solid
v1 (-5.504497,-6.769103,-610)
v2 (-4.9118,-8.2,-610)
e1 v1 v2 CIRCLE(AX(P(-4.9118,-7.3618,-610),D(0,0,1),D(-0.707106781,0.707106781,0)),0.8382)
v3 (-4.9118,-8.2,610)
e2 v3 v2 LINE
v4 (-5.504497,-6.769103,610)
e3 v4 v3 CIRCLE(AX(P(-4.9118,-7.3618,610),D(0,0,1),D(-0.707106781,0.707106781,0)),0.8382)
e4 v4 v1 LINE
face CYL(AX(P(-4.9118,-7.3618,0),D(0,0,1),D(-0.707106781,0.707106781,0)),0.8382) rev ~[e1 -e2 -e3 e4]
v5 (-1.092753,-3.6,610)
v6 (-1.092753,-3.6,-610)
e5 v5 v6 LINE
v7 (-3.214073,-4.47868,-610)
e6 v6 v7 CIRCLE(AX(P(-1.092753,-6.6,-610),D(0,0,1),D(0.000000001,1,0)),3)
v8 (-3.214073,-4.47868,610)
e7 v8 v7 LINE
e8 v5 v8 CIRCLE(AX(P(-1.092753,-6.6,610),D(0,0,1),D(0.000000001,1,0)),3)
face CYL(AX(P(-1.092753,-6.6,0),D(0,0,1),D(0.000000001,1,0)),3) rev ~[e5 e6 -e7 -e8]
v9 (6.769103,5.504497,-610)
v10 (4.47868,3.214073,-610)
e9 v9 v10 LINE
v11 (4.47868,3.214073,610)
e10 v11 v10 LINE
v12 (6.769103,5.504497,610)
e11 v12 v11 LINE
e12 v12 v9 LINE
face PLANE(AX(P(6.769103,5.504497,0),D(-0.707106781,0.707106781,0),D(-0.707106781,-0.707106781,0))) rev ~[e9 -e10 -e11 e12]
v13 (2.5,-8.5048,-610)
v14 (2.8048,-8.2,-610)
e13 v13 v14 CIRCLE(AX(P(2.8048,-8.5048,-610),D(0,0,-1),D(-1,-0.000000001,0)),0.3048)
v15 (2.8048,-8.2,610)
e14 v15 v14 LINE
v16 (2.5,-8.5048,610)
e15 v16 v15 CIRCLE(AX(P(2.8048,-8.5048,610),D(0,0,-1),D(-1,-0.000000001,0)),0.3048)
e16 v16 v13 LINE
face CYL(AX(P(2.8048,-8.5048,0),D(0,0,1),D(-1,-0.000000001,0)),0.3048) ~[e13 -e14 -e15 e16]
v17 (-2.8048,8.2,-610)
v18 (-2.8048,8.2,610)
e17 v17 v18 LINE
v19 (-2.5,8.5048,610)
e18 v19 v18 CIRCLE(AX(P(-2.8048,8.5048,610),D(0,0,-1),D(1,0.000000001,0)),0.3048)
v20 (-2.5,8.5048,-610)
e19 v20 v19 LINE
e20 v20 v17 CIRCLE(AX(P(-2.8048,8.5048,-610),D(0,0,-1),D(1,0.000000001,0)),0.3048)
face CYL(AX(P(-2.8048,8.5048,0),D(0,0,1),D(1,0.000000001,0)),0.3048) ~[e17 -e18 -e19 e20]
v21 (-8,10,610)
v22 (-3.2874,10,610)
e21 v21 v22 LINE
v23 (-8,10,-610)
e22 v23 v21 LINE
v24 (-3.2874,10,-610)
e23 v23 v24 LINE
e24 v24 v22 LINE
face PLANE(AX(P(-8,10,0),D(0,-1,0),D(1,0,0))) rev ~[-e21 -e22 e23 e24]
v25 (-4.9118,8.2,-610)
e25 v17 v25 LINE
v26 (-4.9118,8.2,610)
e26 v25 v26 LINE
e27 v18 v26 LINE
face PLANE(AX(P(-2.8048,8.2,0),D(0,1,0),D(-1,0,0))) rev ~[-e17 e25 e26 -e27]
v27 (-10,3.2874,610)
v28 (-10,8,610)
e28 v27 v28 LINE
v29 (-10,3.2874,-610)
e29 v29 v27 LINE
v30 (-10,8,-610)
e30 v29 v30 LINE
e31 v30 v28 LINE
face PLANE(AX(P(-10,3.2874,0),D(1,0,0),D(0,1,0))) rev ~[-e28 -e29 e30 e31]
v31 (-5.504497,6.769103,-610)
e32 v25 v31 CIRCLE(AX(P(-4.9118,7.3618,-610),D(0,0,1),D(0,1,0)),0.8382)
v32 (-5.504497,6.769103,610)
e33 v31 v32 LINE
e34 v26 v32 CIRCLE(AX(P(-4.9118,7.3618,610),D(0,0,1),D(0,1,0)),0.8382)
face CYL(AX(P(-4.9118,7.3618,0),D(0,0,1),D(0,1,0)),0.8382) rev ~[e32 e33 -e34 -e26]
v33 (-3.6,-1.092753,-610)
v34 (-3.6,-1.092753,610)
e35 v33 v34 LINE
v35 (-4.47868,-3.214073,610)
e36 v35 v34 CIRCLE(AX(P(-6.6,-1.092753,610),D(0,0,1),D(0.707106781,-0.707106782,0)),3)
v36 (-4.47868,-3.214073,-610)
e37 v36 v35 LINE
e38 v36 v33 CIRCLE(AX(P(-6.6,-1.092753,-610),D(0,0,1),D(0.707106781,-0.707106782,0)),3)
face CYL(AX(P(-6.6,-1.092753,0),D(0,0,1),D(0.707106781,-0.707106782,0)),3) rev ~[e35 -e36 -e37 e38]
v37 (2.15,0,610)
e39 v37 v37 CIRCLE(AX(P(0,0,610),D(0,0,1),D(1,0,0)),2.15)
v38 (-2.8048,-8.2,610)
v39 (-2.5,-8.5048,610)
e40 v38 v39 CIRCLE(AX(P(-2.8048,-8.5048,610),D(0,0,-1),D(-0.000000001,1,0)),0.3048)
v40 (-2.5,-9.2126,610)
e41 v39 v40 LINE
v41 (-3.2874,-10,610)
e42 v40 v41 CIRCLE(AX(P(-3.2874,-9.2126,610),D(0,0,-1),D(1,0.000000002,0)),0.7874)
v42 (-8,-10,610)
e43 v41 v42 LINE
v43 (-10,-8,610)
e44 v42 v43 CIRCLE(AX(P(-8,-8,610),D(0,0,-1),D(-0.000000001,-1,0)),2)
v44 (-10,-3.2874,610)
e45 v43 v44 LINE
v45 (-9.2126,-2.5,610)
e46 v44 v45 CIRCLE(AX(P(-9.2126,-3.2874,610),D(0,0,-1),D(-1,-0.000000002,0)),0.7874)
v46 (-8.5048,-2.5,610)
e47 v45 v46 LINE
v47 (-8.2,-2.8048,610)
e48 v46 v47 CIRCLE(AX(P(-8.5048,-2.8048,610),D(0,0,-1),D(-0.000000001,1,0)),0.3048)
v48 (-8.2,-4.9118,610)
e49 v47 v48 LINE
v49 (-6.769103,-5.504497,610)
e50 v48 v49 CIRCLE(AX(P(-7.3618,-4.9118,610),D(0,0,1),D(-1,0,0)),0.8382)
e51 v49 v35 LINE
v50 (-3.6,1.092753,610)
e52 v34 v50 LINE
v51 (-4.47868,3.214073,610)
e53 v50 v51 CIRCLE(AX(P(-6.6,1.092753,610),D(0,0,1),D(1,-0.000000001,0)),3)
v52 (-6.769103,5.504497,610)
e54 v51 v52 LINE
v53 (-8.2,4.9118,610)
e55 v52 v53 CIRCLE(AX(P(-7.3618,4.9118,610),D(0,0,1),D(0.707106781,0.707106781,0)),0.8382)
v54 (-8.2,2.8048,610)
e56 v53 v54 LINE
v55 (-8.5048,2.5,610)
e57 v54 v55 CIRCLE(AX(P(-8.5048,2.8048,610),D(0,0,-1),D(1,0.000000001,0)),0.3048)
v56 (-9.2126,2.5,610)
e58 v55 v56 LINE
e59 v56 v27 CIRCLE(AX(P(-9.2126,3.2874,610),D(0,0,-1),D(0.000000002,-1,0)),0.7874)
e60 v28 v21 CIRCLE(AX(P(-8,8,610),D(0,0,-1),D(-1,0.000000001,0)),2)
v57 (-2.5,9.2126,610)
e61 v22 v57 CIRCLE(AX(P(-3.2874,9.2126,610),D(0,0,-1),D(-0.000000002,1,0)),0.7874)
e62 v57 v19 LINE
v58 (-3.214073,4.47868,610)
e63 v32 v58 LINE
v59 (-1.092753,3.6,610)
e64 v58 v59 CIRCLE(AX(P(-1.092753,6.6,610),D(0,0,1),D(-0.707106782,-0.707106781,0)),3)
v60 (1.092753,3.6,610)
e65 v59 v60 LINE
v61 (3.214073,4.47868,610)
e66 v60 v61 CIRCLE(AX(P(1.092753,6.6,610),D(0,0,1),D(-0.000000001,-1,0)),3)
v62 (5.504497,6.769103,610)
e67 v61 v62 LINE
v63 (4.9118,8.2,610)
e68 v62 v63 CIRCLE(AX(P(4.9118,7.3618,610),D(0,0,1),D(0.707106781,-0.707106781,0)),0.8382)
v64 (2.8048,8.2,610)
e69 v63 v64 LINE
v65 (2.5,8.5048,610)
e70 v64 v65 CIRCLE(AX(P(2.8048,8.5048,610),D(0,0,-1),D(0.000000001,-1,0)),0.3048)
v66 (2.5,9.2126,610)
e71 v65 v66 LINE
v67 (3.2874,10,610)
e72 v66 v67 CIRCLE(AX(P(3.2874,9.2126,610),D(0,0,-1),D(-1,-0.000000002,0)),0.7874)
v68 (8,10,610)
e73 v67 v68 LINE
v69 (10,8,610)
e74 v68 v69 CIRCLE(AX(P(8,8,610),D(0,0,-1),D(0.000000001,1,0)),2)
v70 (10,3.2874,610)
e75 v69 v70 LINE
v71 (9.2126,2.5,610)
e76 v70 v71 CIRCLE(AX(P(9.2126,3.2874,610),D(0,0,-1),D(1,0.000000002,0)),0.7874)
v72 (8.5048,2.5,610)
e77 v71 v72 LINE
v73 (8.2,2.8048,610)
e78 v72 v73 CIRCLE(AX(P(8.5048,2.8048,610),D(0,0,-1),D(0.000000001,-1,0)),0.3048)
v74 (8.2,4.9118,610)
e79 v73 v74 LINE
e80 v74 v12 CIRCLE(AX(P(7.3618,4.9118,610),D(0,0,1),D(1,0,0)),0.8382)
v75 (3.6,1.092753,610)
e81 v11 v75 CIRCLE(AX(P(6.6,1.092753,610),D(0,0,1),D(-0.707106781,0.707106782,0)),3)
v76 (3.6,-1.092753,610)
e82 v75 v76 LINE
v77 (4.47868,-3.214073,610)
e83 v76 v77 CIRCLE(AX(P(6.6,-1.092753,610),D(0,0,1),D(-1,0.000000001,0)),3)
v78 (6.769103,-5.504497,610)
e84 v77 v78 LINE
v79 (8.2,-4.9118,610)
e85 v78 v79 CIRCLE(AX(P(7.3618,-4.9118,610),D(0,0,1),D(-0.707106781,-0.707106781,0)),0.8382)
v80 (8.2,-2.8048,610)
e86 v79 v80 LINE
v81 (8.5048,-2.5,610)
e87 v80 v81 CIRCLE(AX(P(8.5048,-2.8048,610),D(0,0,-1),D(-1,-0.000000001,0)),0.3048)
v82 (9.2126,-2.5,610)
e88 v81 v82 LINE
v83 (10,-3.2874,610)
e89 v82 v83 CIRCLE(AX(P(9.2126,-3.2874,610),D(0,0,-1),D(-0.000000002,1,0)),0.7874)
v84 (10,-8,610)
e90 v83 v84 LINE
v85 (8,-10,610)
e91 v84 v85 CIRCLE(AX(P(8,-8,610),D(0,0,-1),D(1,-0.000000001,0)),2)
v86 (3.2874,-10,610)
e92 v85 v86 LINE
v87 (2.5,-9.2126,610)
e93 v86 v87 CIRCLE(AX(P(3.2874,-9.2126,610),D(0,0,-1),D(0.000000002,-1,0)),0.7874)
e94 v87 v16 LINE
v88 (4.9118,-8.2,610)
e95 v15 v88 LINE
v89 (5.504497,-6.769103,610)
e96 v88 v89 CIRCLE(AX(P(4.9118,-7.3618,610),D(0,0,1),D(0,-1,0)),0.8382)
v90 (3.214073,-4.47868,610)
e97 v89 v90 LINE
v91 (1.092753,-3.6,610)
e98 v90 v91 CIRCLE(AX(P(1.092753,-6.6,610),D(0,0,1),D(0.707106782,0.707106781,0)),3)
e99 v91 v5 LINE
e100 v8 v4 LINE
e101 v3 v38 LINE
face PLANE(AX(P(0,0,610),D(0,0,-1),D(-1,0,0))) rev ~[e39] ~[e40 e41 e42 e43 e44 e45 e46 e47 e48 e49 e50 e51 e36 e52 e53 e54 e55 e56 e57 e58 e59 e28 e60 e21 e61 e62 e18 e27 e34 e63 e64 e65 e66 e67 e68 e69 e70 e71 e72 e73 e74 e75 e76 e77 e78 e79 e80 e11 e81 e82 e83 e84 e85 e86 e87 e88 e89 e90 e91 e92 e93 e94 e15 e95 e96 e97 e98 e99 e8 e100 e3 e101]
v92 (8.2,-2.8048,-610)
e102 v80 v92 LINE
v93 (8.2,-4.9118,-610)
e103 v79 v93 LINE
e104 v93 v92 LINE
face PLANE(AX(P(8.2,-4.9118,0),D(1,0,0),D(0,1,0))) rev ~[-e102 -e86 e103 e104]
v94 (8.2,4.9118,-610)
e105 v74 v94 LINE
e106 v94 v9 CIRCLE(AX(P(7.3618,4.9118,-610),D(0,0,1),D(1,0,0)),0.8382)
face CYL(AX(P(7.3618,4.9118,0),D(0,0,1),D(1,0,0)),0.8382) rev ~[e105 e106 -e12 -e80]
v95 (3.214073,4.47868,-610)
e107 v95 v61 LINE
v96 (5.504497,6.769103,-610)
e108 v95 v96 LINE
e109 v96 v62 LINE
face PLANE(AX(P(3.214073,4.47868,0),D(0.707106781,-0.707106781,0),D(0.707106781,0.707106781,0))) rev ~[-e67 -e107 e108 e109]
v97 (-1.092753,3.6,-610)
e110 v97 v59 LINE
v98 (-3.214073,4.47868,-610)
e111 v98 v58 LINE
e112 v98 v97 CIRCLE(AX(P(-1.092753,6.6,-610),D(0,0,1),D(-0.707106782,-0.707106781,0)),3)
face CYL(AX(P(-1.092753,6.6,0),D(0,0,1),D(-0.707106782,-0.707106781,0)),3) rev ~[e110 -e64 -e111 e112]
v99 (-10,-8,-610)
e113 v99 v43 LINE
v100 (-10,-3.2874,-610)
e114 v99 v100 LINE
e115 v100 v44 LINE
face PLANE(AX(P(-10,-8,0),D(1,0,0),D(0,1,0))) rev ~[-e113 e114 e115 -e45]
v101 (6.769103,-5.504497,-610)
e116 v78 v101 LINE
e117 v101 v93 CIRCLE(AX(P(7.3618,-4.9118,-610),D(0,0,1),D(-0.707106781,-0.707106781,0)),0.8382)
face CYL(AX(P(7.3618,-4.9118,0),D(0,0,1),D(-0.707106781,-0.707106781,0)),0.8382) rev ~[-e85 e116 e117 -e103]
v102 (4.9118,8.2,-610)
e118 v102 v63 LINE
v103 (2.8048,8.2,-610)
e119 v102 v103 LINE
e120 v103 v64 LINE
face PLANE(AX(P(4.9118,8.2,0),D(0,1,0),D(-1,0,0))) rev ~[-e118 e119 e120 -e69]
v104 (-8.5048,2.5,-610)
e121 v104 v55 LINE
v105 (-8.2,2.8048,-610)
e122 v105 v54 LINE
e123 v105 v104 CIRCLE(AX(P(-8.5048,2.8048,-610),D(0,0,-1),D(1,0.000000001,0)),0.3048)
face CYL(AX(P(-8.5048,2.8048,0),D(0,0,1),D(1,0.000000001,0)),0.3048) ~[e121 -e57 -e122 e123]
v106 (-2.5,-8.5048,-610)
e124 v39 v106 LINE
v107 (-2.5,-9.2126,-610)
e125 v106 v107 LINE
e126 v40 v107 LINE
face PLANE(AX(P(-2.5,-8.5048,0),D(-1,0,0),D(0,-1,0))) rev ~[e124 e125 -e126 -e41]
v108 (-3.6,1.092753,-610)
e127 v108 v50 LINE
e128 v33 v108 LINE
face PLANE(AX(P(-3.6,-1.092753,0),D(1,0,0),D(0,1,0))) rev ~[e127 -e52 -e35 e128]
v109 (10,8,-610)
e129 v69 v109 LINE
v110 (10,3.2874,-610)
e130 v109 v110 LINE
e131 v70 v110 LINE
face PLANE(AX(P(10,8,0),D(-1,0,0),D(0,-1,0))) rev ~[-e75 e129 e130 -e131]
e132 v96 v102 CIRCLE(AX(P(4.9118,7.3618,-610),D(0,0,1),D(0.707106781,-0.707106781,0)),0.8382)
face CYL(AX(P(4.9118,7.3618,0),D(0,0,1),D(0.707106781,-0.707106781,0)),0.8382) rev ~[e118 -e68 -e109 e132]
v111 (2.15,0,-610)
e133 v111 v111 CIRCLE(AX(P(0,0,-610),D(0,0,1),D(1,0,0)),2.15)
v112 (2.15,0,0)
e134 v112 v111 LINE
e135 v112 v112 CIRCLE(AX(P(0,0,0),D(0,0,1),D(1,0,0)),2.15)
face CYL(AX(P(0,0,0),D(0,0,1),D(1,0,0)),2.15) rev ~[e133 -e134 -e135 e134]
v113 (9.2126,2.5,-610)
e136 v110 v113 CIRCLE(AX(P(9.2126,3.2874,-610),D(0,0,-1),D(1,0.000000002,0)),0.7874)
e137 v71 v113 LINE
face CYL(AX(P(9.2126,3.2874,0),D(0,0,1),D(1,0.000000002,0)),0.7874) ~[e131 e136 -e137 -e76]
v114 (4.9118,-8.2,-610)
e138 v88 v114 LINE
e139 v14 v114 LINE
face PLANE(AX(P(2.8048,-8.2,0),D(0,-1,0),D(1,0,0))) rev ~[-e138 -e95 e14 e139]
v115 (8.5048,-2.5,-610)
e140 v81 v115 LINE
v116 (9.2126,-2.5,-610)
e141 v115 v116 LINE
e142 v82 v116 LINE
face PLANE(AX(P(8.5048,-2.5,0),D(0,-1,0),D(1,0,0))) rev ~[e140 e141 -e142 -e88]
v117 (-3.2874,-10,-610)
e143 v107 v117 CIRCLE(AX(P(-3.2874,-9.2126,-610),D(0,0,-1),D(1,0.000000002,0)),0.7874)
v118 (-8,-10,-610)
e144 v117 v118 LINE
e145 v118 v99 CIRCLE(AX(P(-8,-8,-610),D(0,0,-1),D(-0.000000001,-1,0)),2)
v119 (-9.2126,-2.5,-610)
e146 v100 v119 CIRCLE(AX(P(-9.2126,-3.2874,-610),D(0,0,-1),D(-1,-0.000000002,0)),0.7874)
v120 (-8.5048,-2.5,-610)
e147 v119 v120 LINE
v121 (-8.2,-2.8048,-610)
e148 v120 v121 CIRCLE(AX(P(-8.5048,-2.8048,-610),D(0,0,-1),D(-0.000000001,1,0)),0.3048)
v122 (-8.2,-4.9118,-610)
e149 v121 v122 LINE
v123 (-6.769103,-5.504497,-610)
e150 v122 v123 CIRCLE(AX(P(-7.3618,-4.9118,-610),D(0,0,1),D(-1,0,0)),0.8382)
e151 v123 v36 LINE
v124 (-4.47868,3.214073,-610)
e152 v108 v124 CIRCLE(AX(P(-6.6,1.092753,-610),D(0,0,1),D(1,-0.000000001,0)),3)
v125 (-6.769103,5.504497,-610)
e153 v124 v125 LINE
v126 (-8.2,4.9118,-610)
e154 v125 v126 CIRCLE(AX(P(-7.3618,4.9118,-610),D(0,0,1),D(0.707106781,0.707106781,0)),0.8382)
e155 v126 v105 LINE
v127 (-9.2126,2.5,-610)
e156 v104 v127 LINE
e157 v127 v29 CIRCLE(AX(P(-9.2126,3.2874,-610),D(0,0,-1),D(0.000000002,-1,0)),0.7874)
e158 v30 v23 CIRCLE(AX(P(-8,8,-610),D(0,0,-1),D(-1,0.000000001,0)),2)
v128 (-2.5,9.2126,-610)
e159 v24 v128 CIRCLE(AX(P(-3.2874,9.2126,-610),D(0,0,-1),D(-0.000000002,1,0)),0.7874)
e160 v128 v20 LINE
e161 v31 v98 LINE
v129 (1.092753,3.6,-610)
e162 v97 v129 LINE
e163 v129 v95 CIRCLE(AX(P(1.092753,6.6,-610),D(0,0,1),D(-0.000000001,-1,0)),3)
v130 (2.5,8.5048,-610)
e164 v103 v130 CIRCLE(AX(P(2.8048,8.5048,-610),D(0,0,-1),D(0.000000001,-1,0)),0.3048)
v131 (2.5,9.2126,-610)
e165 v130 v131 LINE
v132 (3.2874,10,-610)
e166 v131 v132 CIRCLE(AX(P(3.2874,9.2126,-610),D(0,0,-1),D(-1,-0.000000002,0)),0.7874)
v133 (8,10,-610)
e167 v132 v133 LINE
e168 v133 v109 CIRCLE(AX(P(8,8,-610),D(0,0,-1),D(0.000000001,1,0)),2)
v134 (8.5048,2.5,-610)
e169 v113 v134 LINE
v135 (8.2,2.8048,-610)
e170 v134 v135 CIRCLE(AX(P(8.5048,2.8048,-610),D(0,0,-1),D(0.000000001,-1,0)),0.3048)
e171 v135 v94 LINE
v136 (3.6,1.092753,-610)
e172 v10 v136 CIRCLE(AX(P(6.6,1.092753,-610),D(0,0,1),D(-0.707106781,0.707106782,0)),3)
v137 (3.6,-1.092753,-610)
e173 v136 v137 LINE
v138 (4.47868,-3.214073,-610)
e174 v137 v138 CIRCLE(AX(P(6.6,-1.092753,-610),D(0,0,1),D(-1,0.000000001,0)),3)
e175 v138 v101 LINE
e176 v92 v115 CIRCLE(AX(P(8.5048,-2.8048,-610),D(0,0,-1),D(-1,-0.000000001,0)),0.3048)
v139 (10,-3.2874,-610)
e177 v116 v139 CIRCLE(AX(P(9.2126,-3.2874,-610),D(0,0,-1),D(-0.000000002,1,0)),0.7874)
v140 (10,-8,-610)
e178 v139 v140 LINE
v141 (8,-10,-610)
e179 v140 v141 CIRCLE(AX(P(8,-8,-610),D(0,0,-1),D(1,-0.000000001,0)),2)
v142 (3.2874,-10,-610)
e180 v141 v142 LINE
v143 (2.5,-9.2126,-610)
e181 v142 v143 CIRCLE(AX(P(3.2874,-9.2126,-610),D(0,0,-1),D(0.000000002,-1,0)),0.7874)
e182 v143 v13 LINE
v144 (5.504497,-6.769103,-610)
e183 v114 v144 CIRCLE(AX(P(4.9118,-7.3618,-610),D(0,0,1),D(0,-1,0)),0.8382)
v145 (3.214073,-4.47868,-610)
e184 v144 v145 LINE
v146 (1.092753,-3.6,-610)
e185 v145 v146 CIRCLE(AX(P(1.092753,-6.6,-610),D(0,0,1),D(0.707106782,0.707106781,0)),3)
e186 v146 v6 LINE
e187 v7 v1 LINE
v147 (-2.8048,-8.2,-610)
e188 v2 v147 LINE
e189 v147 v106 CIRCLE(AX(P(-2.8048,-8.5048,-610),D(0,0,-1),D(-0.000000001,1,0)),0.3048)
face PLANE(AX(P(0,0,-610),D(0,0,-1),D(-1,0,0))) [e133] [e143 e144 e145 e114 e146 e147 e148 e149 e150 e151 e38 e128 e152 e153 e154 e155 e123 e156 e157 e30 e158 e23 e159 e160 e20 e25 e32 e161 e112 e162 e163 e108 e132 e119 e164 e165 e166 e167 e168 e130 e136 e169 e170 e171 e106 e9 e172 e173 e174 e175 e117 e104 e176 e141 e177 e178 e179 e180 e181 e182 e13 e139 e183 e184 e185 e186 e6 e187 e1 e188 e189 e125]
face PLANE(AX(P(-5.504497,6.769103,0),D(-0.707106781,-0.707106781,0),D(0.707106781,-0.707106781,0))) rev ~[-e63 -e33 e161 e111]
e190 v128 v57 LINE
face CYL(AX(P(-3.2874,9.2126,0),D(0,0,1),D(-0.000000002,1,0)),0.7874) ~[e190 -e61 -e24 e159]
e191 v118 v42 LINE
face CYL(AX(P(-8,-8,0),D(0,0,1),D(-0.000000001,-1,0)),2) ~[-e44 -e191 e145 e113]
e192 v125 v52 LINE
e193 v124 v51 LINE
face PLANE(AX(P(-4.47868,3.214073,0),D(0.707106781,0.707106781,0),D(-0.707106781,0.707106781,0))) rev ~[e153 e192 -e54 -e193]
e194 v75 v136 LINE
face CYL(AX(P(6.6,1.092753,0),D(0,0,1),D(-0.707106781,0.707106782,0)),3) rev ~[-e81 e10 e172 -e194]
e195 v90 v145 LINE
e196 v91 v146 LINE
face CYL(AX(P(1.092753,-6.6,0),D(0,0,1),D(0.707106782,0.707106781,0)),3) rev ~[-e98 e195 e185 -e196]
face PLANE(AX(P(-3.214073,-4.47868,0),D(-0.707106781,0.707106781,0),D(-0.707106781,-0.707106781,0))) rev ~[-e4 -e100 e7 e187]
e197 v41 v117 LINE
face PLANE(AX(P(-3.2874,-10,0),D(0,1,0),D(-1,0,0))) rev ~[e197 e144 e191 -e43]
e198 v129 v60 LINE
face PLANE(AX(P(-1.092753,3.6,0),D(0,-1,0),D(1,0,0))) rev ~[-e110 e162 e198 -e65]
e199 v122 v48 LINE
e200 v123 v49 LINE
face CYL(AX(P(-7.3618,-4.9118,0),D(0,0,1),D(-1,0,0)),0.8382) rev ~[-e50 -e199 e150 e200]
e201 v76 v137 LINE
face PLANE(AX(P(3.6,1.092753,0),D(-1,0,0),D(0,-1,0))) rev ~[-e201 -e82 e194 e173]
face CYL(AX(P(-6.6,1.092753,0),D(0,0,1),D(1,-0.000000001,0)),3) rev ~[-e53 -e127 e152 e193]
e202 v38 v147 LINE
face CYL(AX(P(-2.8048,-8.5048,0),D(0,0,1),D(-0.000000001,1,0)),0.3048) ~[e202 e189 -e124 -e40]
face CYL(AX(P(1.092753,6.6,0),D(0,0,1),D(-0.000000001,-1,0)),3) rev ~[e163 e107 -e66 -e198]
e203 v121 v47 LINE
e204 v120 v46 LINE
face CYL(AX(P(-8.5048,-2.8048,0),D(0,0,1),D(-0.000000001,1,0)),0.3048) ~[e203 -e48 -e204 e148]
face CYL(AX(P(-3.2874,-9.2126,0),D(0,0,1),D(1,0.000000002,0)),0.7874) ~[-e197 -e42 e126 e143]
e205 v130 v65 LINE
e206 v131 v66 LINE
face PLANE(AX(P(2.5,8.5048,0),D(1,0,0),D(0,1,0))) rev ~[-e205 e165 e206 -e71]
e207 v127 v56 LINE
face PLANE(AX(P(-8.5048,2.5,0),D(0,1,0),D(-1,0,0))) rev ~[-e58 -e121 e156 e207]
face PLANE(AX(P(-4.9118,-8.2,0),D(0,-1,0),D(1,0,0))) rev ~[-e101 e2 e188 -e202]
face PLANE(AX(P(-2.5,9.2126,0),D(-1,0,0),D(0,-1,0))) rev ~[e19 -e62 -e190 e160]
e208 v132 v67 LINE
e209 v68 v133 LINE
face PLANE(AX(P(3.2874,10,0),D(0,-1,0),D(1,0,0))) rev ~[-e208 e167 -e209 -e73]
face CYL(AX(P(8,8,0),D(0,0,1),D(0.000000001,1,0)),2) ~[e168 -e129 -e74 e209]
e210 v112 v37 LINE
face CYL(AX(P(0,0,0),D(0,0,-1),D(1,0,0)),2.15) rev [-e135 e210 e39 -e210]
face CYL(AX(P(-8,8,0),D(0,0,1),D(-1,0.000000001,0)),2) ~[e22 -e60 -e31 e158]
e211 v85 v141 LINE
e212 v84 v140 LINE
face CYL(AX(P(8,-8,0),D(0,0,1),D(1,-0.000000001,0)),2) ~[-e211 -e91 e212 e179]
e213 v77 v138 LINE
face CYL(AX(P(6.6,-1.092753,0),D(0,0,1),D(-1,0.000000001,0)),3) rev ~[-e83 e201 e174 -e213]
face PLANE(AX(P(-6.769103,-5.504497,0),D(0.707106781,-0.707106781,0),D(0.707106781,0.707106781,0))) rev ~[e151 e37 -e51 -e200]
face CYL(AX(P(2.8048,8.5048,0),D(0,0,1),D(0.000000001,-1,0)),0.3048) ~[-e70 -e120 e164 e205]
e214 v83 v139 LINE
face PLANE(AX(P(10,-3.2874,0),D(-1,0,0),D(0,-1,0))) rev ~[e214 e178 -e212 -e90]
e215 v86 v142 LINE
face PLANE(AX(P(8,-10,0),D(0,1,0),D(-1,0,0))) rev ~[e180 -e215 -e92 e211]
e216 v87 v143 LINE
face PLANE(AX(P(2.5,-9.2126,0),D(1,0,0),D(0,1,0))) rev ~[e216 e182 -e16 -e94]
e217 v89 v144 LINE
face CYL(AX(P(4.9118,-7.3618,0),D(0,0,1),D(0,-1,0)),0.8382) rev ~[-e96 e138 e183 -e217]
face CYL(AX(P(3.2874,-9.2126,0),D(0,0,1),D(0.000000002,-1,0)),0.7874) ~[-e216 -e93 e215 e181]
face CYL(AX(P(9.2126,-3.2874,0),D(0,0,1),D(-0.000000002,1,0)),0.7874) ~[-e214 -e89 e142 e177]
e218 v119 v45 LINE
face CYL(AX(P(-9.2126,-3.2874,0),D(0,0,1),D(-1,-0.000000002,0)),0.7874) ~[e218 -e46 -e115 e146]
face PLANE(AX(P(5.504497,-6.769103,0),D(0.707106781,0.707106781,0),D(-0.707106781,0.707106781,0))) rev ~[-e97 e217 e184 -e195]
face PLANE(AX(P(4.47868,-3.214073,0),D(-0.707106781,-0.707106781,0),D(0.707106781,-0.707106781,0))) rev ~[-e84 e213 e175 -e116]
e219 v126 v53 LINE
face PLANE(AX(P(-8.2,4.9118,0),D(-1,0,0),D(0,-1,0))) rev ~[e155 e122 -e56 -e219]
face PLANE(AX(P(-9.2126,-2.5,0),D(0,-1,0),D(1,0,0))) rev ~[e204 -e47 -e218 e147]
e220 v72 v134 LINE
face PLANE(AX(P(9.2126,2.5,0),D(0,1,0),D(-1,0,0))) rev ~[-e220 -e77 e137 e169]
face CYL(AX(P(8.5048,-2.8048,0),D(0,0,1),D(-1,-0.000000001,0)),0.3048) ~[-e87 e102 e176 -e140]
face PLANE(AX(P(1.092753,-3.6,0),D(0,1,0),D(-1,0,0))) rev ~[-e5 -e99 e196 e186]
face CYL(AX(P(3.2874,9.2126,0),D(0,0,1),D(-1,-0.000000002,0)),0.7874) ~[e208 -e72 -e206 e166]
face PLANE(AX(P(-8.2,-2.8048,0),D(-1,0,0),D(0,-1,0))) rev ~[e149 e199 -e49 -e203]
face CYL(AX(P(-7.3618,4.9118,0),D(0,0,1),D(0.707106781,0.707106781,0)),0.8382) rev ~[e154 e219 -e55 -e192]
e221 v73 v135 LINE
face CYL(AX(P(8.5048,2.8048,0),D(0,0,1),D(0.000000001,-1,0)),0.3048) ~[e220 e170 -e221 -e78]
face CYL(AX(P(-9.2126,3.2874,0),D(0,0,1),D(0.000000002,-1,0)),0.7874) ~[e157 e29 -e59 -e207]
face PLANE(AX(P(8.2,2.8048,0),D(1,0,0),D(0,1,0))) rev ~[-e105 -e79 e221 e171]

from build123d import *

# Parameters (mm, degrees)
SKETCH3_R                = 2.15
BOSS_EXTRUDE1_DEPTH      = 610
BOSS_EXTRUDE1_DEPTH_BACK = 610


with BuildPart() as part:
    # Sketch3 → Boss-Extrude1 (new body, two sides)
    with BuildSketch(Plane.XY) as boss_extrude1_sk:
        with BuildLine():
            Line((3.2874, 10), (8, 10))
            ThreePointArc((8, 10), (9.414213562, 9.414213562), (10, 8))
            Line((10, 8), (10, 3.2874))
            ThreePointArc((10, 3.2874), (9.76937588, 2.73062412), (9.2126, 2.5))
            Line((9.2126, 2.5), (8.5048, 2.5))
            ThreePointArc((8.5048, 2.5), (8.289273853, 2.589273853), (8.2, 2.8048))
            Line((8.2, 2.8048), (8.2, 4.9118))
            ThreePointArc((8.2, 4.9118), (7.682565253, 5.686195824), (6.769103096, 5.504496904))
            Line((6.769103096, 5.504496904), (4.478679656, 3.214073464))
            ThreePointArc((4.478679656, 3.214073464), (3.828361402, 2.240803418), (3.6, 1.092753121))
            Line((3.6, 1.092753121), (3.6, -1.092753121))
            ThreePointArc((3.6, -1.092753121), (3.828361402, -2.240803418), (4.478679656, -3.214073464))
            Line((4.478679656, -3.214073464), (6.769103096, -5.504496904))
            ThreePointArc((6.769103096, -5.504496904), (7.682565253, -5.686195824), (8.2, -4.9118))
            Line((8.2, -4.9118), (8.2, -2.8048))
            ThreePointArc((8.2, -2.8048), (8.289273853, -2.589273853), (8.5048, -2.5))
            Line((8.5048, -2.5), (9.2126, -2.5))
            ThreePointArc((9.2126, -2.5), (9.76937588, -2.73062412), (10, -3.2874))
            Line((10, -3.2874), (10, -8))
            ThreePointArc((10, -8), (9.414213562, -9.414213562), (8, -10))
            Line((8, -10), (3.2874, -10))
            ThreePointArc((3.2874, -10), (2.73062412, -9.76937588), (2.5, -9.2126))
            Line((2.5, -9.2126), (2.5, -8.5048))
            ThreePointArc((2.5, -8.5048), (2.589273853, -8.289273853), (2.8048, -8.2))
            Line((2.8048, -8.2), (4.9118, -8.2))
            ThreePointArc((4.9118, -8.2), (5.686195824, -7.682565253), (5.504496904, -6.769103096))
            Line((5.504496904, -6.769103096), (3.214073464, -4.478679656))
            ThreePointArc((3.214073464, -4.478679656), (2.240803418, -3.828361402), (1.092753121, -3.6))
            Line((1.092753121, -3.6), (-1.092753121, -3.6))
            ThreePointArc((-1.092753121, -3.6), (-2.240803418, -3.828361402), (-3.214073464, -4.478679656))
            Line((-3.214073464, -4.478679656), (-5.504496904, -6.769103096))
            ThreePointArc((-5.504496904, -6.769103096), (-5.686195824, -7.682565253), (-4.9118, -8.2))
            Line((-4.9118, -8.2), (-2.8048, -8.2))
            ThreePointArc((-2.8048, -8.2), (-2.589273853, -8.289273853), (-2.5, -8.5048))
            Line((-2.5, -8.5048), (-2.5, -9.2126))
            ThreePointArc((-2.5, -9.2126), (-2.73062412, -9.76937588), (-3.2874, -10))
            Line((-3.2874, -10), (-8, -10))
            ThreePointArc((-8, -10), (-9.414213562, -9.414213562), (-10, -8))
            Line((-10, -8), (-10, -3.2874))
            ThreePointArc((-10, -3.2874), (-9.76937588, -2.73062412), (-9.2126, -2.5))
            Line((-9.2126, -2.5), (-8.5048, -2.5))
            ThreePointArc((-8.5048, -2.5), (-8.289273853, -2.589273853), (-8.2, -2.8048))
            Line((-8.2, -2.8048), (-8.2, -4.9118))
            ThreePointArc((-8.2, -4.9118), (-7.682565253, -5.686195824), (-6.769103096, -5.504496904))
            Line((-6.769103096, -5.504496904), (-4.478679656, -3.214073464))
            ThreePointArc((-4.478679656, -3.214073464), (-3.828361402, -2.240803418), (-3.6, -1.092753121))
            Line((-3.6, -1.092753121), (-3.6, 1.092753121))
            ThreePointArc((-3.6, 1.092753121), (-3.828361402, 2.240803418), (-4.478679656, 3.214073464))
            Line((-4.478679656, 3.214073464), (-6.769103096, 5.504496904))
            ThreePointArc((-6.769103096, 5.504496904), (-7.682565253, 5.686195824), (-8.2, 4.9118))
            Line((-8.2, 4.9118), (-8.2, 2.8048))
            ThreePointArc((-8.2, 2.8048), (-8.289273853, 2.589273853), (-8.5048, 2.5))
            Line((-8.5048, 2.5), (-9.2126, 2.5))
            ThreePointArc((-9.2126, 2.5), (-9.76937588, 2.73062412), (-10, 3.2874))
            Line((-10, 3.2874), (-10, 8))
            ThreePointArc((-10, 8), (-9.414213562, 9.414213562), (-8, 10))
            Line((-8, 10), (-3.2874, 10))
            ThreePointArc((-3.2874, 10), (-2.73062412, 9.76937588), (-2.5, 9.2126))
            Line((-2.5, 9.2126), (-2.5, 8.5048))
            ThreePointArc((-2.5, 8.5048), (-2.589273853, 8.289273853), (-2.8048, 8.2))
            Line((-2.8048, 8.2), (-4.9118, 8.2))
            ThreePointArc((-4.9118, 8.2), (-5.686195824, 7.682565253), (-5.504496904, 6.769103096))
            Line((-5.504496904, 6.769103096), (-3.214073464, 4.478679656))
            ThreePointArc((-3.214073464, 4.478679656), (-2.240803418, 3.828361402), (-1.092753121, 3.6))
            Line((-1.092753121, 3.6), (1.092753121, 3.6))
            ThreePointArc((1.092753121, 3.6), (2.240803418, 3.828361402), (3.214073464, 4.478679656))
            Line((3.214073464, 4.478679656), (5.504496904, 6.769103096))
            ThreePointArc((5.504496904, 6.769103096), (5.686195824, 7.682565253), (4.9118, 8.2))
            Line((4.9118, 8.2), (2.8048, 8.2))
            ThreePointArc((2.8048, 8.2), (2.589273853, 8.289273853), (2.5, 8.5048))
            Line((2.5, 8.5048), (2.5, 9.2126))
            ThreePointArc((2.5, 9.2126), (2.73062412, 9.76937588), (3.2874, 10))
        make_face()
        Circle(SKETCH3_R, mode=Mode.SUBTRACT)
    extrude(amount=BOSS_EXTRUDE1_DEPTH)
    extrude(boss_extrude1_sk.sketch, amount=-BOSS_EXTRUDE1_DEPTH_BACK)


solid = part.part
